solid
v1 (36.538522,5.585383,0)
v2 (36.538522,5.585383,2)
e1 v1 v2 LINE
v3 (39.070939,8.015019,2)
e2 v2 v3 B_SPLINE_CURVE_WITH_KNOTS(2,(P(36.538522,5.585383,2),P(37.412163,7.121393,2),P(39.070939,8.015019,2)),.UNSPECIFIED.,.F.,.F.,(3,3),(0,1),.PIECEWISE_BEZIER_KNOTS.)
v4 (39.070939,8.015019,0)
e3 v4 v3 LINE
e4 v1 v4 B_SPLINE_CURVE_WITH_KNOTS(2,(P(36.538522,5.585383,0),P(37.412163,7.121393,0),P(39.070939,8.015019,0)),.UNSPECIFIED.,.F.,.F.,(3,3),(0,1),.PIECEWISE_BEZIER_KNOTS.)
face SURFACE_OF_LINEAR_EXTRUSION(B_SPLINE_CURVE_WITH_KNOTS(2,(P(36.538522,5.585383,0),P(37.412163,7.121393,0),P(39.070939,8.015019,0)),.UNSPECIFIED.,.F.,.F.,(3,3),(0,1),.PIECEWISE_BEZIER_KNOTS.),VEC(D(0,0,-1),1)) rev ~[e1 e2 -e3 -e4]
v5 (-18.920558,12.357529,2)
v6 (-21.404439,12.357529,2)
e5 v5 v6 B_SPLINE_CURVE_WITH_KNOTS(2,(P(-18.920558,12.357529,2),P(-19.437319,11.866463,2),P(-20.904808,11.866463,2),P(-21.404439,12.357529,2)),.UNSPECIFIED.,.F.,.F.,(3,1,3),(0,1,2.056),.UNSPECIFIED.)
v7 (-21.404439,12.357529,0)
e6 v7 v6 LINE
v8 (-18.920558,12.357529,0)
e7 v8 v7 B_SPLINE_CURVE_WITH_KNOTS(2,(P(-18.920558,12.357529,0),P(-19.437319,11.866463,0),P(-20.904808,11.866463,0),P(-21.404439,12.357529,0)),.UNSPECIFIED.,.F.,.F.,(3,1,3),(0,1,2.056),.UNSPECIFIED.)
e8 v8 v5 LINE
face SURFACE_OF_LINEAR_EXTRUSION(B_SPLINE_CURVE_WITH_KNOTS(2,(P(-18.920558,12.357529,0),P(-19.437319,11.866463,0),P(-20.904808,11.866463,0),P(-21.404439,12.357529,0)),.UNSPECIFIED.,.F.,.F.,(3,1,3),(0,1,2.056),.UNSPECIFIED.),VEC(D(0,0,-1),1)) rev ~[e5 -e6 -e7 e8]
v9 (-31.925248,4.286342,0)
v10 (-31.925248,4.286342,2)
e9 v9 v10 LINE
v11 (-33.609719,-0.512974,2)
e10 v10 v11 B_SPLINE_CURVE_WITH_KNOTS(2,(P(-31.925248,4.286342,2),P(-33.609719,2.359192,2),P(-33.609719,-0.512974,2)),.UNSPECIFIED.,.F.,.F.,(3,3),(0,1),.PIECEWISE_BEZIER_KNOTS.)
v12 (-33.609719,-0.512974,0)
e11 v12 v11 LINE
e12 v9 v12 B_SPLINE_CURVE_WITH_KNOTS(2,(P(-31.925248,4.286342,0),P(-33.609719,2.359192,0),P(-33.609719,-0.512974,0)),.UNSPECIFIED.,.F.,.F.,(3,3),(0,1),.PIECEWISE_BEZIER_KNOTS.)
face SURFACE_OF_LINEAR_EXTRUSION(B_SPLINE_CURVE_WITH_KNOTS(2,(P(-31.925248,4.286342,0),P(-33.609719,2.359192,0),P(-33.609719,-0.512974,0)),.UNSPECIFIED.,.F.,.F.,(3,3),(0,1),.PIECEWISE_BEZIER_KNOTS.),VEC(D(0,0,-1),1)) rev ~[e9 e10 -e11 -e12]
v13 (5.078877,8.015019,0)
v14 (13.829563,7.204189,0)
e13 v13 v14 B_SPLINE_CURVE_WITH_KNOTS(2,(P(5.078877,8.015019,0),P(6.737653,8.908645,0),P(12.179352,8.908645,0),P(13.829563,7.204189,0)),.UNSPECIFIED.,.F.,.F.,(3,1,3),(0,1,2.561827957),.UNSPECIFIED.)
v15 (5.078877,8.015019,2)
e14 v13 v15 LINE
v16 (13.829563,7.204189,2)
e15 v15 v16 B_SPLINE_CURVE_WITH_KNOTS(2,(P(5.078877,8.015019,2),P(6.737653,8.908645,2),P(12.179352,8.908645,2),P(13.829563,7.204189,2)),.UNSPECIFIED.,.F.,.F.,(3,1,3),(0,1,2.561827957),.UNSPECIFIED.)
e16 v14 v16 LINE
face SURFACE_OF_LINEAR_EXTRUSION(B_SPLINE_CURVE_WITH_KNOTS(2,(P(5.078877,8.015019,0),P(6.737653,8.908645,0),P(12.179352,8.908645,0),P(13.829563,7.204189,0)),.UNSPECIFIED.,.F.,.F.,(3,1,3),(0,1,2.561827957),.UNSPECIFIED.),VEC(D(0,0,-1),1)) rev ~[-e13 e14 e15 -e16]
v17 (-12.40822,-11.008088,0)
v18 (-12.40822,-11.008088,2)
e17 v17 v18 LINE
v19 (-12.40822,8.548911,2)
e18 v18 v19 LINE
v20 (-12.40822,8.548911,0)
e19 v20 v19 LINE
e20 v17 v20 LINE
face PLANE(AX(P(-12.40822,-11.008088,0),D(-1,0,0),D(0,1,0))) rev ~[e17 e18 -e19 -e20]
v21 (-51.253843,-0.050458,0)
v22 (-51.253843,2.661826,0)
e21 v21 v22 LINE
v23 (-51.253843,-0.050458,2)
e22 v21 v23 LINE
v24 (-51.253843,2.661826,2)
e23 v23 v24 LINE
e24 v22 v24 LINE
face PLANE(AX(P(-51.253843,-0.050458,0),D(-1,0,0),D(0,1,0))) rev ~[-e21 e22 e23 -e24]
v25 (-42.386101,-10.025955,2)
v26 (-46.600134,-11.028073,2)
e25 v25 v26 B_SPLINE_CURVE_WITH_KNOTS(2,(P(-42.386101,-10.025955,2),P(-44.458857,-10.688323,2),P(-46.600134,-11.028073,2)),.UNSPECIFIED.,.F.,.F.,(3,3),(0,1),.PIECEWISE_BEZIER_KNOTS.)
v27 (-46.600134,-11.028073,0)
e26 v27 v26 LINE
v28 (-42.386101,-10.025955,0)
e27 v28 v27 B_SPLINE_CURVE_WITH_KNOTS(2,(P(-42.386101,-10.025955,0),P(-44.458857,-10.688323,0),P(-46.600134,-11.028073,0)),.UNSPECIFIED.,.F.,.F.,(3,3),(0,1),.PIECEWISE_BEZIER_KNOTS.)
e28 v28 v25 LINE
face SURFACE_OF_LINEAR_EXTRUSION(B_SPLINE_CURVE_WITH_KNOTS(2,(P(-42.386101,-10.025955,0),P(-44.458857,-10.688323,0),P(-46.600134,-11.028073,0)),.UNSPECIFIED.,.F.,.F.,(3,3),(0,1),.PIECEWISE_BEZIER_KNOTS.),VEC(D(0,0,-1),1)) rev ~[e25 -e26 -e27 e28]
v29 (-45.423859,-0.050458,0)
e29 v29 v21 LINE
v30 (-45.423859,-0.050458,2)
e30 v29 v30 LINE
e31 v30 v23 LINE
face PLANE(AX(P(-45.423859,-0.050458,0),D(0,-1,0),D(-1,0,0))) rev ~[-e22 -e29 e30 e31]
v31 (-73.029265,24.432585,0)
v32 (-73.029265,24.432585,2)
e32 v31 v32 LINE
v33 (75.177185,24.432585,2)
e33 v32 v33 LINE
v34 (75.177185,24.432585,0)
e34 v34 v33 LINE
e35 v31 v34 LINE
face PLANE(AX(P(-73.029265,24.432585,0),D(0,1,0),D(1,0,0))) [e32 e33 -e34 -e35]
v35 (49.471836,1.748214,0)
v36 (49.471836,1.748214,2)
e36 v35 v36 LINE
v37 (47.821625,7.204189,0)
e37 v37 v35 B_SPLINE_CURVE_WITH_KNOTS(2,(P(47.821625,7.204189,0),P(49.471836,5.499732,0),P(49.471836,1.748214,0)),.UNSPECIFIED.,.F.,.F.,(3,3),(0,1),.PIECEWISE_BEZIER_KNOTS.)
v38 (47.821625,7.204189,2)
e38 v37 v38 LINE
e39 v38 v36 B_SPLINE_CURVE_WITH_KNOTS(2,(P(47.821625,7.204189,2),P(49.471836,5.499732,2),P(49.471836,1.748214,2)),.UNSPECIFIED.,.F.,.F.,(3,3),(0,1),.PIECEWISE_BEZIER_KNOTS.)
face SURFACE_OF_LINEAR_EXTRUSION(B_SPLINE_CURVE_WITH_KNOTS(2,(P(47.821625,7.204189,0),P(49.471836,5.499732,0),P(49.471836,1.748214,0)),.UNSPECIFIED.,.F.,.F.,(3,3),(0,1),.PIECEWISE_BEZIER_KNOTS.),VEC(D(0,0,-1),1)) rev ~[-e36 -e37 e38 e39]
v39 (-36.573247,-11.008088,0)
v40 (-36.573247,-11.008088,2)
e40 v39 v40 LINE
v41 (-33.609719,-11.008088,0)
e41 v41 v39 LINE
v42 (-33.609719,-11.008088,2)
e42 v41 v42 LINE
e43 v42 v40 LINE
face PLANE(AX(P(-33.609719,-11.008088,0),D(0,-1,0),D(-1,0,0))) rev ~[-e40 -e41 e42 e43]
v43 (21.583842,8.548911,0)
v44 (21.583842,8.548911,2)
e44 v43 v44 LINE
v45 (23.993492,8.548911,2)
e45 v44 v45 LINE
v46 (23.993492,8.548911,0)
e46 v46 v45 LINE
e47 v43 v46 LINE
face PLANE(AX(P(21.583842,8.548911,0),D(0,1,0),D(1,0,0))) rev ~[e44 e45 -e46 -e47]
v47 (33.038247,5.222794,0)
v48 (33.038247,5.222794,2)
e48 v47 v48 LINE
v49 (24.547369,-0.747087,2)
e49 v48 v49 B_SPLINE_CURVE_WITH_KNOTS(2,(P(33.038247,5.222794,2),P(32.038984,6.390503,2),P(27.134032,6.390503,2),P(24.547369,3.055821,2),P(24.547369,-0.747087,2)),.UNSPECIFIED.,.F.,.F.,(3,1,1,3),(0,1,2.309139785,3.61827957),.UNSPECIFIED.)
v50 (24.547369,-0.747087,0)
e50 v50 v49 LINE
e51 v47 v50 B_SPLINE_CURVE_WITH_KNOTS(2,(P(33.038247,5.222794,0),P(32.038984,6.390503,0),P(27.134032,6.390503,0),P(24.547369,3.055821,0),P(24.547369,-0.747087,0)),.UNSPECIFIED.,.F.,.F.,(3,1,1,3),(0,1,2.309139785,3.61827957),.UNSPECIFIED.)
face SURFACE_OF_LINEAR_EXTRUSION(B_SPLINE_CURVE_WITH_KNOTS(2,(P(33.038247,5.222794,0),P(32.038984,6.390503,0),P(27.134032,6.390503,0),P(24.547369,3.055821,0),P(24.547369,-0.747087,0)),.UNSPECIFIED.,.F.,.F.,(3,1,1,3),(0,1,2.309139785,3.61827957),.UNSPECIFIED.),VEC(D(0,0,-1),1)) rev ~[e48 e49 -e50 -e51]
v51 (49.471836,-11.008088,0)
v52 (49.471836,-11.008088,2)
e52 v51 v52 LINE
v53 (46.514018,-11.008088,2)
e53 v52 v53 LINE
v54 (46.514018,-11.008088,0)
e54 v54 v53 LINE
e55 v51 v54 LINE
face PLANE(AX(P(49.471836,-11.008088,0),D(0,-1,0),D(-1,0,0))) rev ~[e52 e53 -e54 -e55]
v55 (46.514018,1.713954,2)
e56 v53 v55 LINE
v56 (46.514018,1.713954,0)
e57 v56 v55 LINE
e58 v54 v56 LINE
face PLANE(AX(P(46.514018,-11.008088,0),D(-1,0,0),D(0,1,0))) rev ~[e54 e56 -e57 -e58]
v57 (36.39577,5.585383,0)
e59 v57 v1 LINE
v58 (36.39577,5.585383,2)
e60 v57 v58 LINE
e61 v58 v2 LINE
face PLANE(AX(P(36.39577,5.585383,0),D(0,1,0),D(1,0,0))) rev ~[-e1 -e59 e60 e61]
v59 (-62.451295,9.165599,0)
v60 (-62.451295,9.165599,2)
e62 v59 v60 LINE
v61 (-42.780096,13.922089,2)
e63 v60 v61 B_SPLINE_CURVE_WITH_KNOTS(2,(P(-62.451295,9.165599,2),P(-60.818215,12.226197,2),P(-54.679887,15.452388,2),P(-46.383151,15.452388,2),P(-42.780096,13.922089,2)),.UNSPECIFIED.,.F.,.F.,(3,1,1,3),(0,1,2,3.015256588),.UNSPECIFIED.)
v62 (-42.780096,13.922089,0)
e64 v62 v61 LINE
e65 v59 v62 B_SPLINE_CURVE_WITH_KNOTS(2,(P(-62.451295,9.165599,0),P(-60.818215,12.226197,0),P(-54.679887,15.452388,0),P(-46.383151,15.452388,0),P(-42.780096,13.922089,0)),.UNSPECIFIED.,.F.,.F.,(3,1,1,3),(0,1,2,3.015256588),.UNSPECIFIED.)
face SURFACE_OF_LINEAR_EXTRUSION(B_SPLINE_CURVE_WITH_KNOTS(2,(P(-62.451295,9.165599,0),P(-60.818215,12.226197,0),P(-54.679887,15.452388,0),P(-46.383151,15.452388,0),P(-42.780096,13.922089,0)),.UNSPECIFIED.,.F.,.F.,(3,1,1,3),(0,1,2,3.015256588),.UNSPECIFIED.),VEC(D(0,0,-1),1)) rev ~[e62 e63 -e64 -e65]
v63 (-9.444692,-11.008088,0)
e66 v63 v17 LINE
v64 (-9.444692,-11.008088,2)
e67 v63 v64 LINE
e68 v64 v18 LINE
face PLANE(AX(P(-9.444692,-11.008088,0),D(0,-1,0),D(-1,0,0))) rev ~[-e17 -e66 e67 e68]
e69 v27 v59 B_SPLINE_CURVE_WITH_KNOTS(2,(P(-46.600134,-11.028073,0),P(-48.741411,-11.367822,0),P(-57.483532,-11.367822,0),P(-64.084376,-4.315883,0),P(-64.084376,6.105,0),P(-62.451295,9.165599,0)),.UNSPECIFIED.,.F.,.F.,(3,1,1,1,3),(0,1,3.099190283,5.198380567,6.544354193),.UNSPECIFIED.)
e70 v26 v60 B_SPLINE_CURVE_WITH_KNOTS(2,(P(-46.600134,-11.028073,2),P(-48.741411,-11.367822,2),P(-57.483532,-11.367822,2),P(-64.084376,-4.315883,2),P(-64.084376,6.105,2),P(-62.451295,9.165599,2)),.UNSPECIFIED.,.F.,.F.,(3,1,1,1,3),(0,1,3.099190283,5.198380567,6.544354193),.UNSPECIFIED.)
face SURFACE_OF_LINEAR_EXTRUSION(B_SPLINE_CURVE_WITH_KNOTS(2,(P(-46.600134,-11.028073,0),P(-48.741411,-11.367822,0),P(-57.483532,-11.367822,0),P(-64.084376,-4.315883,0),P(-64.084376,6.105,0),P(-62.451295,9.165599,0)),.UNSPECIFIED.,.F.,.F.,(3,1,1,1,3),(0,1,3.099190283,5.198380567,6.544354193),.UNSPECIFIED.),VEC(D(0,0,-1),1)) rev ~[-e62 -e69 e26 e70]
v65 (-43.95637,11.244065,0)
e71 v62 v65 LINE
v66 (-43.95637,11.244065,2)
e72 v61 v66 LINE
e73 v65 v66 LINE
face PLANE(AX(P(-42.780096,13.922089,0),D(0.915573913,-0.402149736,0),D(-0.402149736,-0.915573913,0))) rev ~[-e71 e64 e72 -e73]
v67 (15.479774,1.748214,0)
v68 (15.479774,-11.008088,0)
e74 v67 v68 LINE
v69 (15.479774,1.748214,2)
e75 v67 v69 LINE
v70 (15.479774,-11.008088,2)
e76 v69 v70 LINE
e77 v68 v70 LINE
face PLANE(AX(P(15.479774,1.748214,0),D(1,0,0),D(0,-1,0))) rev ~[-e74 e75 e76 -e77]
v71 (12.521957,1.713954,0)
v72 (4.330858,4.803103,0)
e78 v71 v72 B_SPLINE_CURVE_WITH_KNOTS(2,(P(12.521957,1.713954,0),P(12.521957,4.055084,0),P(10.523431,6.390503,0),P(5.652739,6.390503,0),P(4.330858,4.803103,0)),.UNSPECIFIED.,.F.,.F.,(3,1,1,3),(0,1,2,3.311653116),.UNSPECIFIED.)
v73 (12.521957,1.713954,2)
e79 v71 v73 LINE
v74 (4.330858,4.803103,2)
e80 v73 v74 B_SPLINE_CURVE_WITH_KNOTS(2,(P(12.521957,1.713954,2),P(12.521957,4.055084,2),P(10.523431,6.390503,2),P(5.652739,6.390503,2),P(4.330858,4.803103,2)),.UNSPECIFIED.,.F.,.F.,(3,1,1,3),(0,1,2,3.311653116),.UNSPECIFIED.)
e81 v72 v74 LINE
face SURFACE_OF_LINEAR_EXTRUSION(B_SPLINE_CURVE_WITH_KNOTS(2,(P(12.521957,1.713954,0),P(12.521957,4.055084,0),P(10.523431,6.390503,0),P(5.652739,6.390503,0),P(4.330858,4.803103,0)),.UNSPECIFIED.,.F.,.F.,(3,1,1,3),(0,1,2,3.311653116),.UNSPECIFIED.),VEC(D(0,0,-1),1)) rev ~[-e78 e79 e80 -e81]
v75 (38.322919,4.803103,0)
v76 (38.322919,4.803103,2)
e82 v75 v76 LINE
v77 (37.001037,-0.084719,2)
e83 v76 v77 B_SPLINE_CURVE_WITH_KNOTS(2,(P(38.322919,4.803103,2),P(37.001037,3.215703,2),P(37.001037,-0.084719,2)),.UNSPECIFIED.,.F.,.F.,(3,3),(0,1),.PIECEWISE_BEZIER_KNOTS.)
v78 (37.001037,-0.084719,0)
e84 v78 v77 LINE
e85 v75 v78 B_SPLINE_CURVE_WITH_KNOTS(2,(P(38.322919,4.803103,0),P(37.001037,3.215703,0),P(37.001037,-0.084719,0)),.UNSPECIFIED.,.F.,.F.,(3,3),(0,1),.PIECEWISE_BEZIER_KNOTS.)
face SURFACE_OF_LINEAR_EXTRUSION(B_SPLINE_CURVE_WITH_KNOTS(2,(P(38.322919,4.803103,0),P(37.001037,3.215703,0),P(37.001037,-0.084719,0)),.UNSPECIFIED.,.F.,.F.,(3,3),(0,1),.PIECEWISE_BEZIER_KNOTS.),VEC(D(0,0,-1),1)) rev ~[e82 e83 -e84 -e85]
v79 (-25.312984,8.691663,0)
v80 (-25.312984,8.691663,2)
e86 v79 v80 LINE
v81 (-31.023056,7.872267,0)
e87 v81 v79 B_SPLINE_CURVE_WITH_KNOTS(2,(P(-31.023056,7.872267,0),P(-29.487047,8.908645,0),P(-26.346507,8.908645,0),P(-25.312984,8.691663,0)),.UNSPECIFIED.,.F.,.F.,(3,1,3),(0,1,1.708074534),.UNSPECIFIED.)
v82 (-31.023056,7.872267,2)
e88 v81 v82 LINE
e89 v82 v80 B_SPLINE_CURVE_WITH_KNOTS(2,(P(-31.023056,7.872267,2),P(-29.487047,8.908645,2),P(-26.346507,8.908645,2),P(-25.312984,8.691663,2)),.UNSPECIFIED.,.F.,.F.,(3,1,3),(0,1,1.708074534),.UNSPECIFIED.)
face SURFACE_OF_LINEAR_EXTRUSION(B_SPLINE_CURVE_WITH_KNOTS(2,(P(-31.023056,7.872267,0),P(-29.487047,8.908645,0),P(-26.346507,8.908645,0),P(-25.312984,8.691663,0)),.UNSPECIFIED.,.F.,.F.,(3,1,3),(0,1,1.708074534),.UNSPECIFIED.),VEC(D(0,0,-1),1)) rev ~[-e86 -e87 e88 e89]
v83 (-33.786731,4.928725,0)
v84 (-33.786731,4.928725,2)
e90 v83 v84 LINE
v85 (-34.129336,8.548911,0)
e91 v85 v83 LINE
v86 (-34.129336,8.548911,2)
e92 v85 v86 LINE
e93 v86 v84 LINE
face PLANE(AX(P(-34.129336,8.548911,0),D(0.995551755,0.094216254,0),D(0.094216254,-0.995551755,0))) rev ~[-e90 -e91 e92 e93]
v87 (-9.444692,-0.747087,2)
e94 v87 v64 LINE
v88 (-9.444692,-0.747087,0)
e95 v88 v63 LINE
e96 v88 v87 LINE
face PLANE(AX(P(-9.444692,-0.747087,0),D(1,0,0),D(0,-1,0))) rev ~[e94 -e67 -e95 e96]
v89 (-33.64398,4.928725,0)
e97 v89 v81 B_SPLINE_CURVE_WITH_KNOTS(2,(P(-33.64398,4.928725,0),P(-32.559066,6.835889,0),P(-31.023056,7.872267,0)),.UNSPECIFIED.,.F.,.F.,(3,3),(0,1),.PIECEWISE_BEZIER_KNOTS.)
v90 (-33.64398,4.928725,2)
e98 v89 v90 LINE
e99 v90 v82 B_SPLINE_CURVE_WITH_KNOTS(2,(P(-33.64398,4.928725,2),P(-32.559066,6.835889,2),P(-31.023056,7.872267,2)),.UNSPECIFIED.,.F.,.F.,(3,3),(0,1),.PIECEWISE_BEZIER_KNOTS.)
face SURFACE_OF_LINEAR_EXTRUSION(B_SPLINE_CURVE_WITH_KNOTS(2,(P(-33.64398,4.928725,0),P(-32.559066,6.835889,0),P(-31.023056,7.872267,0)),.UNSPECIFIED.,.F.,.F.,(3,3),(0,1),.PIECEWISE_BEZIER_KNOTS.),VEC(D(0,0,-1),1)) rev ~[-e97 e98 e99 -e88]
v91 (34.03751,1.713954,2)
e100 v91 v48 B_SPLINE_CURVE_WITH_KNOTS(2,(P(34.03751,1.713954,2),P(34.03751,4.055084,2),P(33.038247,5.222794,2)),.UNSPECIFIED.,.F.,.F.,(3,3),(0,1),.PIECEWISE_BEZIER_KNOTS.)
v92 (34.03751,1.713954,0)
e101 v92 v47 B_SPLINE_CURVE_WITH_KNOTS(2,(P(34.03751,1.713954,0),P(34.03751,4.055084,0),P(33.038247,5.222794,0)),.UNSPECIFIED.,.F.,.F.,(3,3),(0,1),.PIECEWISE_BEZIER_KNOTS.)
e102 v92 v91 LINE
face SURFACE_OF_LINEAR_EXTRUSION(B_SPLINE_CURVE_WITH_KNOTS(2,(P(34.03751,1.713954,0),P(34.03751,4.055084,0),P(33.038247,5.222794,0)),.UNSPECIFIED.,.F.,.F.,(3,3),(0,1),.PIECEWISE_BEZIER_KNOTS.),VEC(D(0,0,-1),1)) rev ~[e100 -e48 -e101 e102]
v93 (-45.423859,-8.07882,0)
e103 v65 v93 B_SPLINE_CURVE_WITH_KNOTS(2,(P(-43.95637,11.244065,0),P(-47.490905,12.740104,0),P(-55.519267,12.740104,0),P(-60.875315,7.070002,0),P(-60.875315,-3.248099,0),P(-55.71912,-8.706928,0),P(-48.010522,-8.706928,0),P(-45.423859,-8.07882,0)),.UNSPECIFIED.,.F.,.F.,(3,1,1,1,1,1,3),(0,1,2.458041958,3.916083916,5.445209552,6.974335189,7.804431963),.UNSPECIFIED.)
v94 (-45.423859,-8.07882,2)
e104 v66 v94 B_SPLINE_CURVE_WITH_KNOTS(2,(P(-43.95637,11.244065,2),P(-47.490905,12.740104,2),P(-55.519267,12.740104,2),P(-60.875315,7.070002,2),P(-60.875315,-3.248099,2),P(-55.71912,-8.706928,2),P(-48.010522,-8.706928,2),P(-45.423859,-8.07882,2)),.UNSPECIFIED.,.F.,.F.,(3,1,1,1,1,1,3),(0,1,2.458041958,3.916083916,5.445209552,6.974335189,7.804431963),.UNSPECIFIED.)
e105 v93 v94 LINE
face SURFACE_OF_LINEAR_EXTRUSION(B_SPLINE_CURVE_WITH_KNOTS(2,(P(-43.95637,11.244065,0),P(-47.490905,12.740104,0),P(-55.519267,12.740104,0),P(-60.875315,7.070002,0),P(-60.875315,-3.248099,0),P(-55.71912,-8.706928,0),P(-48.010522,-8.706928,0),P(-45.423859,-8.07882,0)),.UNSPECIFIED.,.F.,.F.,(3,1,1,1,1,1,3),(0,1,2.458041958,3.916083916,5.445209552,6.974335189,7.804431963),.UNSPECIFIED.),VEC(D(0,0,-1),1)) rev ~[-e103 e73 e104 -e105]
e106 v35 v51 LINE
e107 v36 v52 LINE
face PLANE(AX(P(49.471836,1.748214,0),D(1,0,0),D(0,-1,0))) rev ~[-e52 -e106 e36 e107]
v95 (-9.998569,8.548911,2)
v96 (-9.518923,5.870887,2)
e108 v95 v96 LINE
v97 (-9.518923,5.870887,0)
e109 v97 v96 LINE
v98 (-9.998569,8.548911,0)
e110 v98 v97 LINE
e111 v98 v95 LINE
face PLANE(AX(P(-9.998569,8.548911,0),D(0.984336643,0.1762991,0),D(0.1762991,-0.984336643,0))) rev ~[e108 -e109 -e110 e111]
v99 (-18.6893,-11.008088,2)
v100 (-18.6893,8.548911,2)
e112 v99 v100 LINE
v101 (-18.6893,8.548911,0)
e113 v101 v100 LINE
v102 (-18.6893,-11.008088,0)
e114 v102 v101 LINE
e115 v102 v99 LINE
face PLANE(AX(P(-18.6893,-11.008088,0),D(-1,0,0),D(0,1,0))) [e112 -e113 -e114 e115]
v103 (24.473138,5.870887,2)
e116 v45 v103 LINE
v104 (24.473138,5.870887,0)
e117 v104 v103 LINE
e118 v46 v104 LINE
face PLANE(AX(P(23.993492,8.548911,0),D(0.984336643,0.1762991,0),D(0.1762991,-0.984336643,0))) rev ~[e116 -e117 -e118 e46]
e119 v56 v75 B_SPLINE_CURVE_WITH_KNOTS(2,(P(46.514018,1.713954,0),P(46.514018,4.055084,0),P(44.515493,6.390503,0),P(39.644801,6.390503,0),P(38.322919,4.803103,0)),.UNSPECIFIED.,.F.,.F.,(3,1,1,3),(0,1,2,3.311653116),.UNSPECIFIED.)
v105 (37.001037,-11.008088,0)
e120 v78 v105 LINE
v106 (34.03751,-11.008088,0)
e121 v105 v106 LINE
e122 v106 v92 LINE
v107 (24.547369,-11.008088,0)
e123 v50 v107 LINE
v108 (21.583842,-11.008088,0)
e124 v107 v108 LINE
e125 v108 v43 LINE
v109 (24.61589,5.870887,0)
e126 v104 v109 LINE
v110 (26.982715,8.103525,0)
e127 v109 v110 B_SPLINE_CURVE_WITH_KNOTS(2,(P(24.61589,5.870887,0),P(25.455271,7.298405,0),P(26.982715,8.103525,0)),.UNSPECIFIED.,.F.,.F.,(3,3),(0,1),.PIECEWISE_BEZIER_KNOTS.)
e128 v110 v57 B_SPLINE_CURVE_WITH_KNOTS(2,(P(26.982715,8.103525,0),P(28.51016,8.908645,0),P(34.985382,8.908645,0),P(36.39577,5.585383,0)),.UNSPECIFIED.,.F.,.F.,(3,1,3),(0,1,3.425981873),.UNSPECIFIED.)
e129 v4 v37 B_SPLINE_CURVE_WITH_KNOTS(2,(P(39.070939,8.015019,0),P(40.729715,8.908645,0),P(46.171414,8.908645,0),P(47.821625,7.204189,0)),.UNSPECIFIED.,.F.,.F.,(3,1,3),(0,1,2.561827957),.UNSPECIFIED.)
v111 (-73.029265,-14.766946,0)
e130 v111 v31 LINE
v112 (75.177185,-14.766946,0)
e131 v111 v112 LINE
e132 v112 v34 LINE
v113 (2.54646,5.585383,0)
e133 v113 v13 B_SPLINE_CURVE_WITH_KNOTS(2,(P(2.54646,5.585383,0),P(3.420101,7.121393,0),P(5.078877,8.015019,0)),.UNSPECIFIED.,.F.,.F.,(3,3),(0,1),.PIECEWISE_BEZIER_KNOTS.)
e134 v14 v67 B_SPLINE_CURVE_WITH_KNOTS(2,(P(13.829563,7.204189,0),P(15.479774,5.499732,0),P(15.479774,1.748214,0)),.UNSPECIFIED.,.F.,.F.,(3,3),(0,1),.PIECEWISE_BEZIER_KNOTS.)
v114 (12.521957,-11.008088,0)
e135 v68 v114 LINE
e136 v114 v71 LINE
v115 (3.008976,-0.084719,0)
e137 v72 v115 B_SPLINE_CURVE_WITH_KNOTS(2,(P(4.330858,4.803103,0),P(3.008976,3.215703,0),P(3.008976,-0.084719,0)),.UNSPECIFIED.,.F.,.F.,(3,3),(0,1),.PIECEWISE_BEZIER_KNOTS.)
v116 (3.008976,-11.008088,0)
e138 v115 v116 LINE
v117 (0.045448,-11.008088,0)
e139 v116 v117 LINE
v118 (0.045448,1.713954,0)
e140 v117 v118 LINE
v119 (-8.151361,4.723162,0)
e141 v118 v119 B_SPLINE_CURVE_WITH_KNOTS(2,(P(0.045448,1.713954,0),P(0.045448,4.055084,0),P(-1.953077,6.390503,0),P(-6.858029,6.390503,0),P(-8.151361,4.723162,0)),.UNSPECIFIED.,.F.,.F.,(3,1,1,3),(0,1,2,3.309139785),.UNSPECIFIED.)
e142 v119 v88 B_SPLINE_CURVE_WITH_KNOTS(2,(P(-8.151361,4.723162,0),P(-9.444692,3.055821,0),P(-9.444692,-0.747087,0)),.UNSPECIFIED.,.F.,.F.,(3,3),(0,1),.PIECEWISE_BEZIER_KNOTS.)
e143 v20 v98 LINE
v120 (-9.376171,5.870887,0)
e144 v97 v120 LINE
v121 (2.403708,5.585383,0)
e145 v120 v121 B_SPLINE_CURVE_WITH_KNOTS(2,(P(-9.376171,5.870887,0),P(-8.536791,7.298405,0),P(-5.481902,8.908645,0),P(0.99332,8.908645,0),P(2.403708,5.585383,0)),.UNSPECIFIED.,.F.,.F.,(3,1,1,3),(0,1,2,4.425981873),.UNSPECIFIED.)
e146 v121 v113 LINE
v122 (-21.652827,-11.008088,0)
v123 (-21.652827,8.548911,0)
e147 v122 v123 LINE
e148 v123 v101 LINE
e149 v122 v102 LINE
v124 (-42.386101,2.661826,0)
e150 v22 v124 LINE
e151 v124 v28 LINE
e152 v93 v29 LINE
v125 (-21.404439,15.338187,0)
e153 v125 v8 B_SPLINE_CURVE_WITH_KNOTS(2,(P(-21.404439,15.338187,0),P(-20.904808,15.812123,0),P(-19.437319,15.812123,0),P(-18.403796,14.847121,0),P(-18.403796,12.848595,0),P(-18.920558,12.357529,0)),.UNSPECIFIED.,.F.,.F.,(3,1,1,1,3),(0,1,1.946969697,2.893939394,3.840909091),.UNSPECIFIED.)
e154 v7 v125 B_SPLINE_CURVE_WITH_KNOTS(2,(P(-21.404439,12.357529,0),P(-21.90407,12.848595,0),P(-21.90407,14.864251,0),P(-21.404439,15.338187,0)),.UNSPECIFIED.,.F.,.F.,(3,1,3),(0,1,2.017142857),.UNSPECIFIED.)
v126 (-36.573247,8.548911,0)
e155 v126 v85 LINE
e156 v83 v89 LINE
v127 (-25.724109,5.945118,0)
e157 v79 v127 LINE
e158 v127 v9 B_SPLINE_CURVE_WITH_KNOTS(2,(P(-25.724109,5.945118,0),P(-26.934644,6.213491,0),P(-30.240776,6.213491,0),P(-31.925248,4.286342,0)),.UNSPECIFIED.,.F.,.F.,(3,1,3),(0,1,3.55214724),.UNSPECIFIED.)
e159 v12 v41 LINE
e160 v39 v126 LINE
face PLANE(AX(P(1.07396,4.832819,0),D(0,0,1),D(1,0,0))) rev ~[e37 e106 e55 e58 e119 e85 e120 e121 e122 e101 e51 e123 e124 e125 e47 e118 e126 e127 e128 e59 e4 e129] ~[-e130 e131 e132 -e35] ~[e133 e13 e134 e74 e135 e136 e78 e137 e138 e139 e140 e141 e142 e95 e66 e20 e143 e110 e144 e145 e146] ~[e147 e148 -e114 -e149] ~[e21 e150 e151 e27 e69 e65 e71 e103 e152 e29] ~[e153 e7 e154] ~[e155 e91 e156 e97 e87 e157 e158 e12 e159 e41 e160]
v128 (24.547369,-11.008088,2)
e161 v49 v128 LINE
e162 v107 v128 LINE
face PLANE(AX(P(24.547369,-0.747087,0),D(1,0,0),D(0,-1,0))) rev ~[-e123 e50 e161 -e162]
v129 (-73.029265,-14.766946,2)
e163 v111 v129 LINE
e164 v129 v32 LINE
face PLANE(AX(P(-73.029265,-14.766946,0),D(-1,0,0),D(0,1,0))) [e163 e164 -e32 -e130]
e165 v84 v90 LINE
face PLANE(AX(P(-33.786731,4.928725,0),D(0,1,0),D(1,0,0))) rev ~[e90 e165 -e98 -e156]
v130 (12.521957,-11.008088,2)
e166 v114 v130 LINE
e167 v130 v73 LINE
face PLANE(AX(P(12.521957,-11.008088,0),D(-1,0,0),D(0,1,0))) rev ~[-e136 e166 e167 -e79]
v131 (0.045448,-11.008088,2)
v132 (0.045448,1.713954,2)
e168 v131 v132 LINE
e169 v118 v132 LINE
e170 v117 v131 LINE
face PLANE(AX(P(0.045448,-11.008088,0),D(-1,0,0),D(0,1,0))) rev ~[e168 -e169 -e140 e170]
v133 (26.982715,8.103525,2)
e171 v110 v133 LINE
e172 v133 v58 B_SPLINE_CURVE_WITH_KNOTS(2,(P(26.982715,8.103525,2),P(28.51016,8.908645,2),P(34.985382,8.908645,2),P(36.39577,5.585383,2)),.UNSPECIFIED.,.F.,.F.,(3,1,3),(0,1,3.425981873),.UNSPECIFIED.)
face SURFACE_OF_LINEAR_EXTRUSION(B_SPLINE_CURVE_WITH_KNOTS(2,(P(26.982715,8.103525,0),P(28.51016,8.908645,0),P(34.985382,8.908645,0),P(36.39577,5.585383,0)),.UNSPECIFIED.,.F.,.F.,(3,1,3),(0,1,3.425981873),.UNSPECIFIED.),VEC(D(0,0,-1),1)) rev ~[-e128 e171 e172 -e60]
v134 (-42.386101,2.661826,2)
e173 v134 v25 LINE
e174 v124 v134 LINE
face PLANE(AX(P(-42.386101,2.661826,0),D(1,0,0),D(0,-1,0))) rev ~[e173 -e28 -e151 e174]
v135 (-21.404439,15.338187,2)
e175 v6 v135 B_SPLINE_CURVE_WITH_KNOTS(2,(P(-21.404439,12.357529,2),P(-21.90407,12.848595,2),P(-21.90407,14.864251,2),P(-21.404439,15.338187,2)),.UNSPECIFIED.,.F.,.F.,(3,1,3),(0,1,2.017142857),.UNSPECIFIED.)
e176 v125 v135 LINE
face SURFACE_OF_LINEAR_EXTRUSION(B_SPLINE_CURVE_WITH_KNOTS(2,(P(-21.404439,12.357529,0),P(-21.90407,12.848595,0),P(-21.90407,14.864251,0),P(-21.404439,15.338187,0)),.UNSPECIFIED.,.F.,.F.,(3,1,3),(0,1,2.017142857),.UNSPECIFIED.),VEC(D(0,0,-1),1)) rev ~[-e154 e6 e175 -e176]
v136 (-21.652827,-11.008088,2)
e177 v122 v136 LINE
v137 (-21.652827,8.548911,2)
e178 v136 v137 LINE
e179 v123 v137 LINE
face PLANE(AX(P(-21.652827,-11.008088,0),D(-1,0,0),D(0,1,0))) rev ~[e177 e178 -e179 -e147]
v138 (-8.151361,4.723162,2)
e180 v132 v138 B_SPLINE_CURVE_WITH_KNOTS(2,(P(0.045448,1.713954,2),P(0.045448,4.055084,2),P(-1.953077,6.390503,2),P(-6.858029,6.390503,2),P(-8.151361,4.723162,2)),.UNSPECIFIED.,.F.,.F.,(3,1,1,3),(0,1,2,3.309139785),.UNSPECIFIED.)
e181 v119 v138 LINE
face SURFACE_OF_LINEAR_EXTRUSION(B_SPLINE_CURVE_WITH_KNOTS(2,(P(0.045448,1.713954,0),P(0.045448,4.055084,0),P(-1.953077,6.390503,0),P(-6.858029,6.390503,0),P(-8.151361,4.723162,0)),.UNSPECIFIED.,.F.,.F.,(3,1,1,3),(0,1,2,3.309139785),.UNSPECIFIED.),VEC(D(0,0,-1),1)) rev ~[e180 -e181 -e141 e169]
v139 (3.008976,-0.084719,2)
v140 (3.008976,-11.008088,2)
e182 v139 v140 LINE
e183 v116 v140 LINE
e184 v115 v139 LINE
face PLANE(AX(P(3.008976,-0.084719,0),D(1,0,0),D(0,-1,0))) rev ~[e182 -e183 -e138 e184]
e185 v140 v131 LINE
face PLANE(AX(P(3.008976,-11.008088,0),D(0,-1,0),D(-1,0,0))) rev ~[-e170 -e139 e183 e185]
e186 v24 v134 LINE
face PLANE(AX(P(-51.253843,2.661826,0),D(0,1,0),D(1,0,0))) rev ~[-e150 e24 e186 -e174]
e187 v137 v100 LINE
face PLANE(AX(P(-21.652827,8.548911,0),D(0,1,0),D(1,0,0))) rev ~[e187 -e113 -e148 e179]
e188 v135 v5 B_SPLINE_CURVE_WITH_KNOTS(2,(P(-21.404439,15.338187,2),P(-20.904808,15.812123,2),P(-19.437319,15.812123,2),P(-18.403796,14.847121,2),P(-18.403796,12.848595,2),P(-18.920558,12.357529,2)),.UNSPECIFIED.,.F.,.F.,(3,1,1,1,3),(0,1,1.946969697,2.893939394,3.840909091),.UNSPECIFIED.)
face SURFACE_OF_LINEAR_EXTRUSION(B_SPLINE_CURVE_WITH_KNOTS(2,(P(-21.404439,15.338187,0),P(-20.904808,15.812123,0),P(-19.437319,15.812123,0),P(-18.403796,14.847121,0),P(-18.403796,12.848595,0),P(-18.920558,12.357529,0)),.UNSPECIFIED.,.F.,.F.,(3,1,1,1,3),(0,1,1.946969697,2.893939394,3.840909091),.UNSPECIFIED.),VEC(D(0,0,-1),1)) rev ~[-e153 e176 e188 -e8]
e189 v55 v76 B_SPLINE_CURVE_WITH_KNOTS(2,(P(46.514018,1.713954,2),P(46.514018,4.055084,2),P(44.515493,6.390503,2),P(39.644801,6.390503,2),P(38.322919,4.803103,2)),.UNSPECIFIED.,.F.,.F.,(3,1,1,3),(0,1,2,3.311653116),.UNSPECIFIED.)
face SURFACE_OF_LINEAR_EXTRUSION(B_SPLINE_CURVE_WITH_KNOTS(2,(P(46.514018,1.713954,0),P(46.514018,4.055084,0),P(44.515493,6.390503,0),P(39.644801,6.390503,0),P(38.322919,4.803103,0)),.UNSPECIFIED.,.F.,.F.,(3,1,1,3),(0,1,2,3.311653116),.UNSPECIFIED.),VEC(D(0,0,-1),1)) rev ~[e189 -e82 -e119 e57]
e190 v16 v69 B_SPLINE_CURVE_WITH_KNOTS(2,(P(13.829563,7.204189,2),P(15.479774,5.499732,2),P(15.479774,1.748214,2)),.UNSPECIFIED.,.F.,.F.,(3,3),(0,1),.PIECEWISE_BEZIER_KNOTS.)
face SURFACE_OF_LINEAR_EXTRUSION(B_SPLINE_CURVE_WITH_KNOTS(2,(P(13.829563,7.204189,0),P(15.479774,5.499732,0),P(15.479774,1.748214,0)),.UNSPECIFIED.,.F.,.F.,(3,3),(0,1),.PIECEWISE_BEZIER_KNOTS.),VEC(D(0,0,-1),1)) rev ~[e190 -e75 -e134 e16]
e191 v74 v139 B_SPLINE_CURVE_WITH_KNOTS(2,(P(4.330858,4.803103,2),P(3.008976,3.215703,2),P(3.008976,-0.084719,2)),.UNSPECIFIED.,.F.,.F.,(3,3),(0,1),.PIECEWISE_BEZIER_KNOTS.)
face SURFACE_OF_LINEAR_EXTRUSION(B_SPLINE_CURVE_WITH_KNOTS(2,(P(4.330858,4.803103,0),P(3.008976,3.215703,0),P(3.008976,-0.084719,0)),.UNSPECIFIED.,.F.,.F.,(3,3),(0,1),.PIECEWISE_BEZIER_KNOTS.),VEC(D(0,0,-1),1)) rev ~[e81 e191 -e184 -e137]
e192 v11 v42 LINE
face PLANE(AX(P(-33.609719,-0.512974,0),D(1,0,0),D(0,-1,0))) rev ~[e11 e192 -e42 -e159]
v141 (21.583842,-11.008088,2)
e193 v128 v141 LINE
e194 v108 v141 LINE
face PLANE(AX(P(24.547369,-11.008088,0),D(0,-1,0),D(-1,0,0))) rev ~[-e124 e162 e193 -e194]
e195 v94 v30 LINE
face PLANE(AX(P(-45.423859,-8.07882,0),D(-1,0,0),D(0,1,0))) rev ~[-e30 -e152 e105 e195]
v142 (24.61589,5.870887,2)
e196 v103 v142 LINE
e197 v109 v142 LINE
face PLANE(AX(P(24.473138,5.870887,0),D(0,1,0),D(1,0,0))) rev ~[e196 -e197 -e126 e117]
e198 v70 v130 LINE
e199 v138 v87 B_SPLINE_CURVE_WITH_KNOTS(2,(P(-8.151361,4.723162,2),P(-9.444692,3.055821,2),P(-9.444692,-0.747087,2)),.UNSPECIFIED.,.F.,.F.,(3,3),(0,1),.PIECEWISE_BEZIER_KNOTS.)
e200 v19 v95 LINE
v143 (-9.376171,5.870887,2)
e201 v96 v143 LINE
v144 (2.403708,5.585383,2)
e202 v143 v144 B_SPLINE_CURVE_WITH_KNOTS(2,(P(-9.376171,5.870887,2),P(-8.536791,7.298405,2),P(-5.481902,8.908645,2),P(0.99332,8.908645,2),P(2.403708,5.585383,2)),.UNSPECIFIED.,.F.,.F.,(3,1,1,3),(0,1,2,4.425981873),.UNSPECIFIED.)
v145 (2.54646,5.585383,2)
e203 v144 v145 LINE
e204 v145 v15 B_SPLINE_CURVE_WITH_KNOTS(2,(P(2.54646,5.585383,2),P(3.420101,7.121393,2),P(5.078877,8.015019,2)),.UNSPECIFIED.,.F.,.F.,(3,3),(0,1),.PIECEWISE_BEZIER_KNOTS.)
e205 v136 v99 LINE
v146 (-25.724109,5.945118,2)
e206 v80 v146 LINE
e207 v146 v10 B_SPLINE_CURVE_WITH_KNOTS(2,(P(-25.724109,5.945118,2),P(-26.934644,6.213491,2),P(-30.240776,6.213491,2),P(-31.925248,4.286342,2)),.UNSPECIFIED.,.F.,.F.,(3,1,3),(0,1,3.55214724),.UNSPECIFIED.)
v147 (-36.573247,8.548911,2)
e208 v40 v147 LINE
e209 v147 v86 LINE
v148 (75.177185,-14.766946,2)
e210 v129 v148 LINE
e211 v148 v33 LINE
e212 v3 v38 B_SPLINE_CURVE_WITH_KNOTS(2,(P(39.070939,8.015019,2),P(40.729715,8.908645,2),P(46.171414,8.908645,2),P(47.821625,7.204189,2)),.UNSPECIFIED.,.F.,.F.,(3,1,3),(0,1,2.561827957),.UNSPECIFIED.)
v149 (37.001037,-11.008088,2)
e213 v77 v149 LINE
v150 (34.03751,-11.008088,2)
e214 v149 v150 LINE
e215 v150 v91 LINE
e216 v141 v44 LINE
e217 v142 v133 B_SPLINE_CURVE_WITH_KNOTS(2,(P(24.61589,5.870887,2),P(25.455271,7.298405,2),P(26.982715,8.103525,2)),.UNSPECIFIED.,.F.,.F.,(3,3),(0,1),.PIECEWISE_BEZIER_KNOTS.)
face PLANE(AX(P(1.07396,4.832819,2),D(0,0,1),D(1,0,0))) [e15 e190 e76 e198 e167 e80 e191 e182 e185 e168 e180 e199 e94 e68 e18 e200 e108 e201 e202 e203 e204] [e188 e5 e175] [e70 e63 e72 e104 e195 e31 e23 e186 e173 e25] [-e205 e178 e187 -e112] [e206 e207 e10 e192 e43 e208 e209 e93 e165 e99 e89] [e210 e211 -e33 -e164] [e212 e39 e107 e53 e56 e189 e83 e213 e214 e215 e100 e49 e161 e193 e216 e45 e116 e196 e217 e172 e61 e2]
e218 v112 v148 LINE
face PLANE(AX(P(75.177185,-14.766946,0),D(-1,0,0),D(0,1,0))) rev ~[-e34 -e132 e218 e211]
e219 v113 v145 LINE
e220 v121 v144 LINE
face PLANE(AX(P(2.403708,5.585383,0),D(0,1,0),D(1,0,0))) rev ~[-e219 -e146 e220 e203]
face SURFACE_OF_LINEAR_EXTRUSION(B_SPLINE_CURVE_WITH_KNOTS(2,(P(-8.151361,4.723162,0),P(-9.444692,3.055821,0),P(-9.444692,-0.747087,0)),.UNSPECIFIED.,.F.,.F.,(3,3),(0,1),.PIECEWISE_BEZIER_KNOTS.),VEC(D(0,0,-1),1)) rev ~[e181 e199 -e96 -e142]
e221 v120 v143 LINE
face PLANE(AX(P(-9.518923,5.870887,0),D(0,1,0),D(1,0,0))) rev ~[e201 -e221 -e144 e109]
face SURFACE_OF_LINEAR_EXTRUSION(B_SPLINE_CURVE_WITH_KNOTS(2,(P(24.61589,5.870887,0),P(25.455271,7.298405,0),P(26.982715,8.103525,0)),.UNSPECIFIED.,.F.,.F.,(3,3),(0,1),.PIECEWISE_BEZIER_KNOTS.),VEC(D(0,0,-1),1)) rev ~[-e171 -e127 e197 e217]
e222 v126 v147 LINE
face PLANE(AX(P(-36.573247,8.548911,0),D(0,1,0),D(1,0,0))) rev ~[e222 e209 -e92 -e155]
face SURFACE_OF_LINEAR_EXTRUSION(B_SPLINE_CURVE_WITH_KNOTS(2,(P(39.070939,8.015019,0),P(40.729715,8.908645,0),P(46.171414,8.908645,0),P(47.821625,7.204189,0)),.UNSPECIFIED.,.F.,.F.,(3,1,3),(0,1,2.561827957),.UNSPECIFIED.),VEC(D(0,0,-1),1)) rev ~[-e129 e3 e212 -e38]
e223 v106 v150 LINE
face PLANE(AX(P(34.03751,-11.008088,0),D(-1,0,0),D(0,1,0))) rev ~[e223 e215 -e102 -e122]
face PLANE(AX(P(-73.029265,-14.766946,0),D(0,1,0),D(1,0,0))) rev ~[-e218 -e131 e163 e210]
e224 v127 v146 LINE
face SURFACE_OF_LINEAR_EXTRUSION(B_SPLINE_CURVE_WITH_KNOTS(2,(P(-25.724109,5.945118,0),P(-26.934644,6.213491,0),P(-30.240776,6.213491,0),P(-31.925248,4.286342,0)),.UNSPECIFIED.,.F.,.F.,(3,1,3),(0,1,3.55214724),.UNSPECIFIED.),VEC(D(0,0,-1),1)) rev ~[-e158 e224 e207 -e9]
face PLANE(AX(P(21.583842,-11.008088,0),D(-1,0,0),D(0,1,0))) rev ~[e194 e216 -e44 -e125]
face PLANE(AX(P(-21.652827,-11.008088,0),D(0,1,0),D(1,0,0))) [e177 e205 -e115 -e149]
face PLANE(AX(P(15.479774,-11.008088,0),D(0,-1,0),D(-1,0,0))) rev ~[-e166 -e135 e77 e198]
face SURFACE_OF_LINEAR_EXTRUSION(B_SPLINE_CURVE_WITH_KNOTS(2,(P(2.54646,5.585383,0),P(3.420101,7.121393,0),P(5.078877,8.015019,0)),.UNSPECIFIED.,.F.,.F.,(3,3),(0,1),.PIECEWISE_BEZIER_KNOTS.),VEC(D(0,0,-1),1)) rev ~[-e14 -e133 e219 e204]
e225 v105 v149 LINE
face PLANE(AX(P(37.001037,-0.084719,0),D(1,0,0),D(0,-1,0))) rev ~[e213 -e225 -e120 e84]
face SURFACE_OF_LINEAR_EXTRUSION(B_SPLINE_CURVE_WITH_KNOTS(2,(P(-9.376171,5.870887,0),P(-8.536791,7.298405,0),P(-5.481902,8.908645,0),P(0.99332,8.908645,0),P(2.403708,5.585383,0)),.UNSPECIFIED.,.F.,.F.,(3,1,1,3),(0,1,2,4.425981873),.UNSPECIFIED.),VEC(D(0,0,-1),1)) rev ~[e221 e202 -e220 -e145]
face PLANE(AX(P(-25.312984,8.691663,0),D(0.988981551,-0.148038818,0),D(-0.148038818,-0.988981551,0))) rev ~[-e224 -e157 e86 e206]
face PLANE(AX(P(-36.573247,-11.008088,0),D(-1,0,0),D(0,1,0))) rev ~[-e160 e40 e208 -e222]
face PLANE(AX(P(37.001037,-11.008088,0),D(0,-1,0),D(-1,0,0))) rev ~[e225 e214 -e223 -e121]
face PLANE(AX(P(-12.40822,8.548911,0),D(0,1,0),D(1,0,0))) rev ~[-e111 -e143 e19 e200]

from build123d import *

# Parameters (mm, degrees)
F0_W     = 148.2064500451
F0_H     = 39.1995310783
F0_W_2   = 2.9635276284
F0_H_2   = 19.5569983185
F1_DEPTH = 2


with BuildPart() as f1:
    # F0 (on Top) → F1 (new body)
    with BuildSketch(Plane.XY):
        with Locations((1.0739602149, 4.8328191042)):
            Rectangle(F0_W, F0_H)
        with BuildLine():
            Line((-51.2538431366, -0.0504584148), (-51.2538431366, 2.6618260235))
            Line((-51.2538431366, 2.6618260235), (-42.3861005414, 2.6618260235))
            Line((-42.3861005414, 2.6618260235), (-42.3861005414, -10.0259550753))
            add(Edge.make_bspline(
                [(-42.3861005414, -10.0259550753), (-44.4588568595, -10.6883234855), (-46.6001340477, -11.0280727994)],
                knots=[0, 0, 0, 1, 1, 1], degree=2))
            add(Edge.make_bspline(
                [(-46.6001340477, -11.0280727994), (-48.7414112358, -11.3678221132), (-51.5621870517, -11.3678221132)],
                knots=[0, 0, 0, 1, 1, 1], degree=2))
            add(Edge.make_bspline(
                [(-51.5621870517, -11.3678221132), (-57.483532236, -11.3678221132), (-60.783954142, -7.8418523434)],
                knots=[0, 0, 0, 1, 1, 1], degree=2))
            add(Edge.make_bspline(
                [(-60.783954142, -7.8418523434), (-64.084376048, -4.3158825736), (-64.084376048, 2.0337180483)],
                knots=[0, 0, 0, 1, 1, 1], degree=2))
            add(Edge.make_bspline(
                [(-64.084376048, 2.0337180483), (-64.084376048, 6.1049997421), (-62.4512953125, 9.165598603)],
                knots=[0, 0, 0, 1, 1, 1], degree=2))
            add(Edge.make_bspline(
                [(-62.4512953125, 9.165598603), (-60.818214577, 12.226197464), (-57.7490506073, 13.8392929457)],
                knots=[0, 0, 0, 1, 1, 1], degree=2))
            add(Edge.make_bspline(
                [(-57.7490506073, 13.8392929457), (-54.6798866376, 15.4523884274), (-50.5629243639, 15.4523884274)],
                knots=[0, 0, 0, 1, 1, 1], degree=2))
            add(Edge.make_bspline(
                [(-50.5629243639, 15.4523884274), (-46.3831512926, 15.4523884274), (-42.780095544, 13.922088997)],
                knots=[0, 0, 0, 1, 1, 1], degree=2))
            Line((-42.780095544, 13.922088997), (-43.9563704794, 11.2440649937))
            add(Edge.make_bspline(
                [(-43.9563704794, 11.2440649937), (-47.4909053579, 12.7401039891), (-50.7570668289, 12.7401039891)],
                knots=[0, 0, 0, 1, 1, 1], degree=2))
            add(Edge.make_bspline(
                [(-50.7570668289, 12.7401039891), (-55.5192672954, 12.7401039891), (-58.1972912987, 9.905052992)],
                knots=[0, 0, 0, 1, 1, 1], degree=2))
            add(Edge.make_bspline(
                [(-58.1972912987, 9.905052992), (-60.875315302, 7.0700019949), (-60.875315302, 2.0337180483)],
                knots=[0, 0, 0, 1, 1, 1], degree=2))
            add(Edge.make_bspline(
                [(-60.875315302, 2.0337180483), (-60.875315302, -3.2480990158), (-58.2972175675, -5.9775136716)],
                knots=[0, 0, 0, 1, 1, 1], degree=2))
            add(Edge.make_bspline(
                [(-58.2972175675, -5.9775136716), (-55.719119833, -8.7069283274), (-50.7228063939, -8.7069283274)],
                knots=[0, 0, 0, 1, 1, 1], degree=2))
            add(Edge.make_bspline(
                [(-50.7228063939, -8.7069283274), (-48.0105219556, -8.7069283274), (-45.4238591123, -8.0788203522)],
                knots=[0, 0, 0, 1, 1, 1], degree=2))
            Line((-45.4238591123, -8.0788203522), (-45.4238591123, -0.0504584148))
            Line((-45.4238591123, -0.0504584148), (-51.2538431366, -0.0504584148))
        make_face(mode=Mode.SUBTRACT)
        with BuildLine():
            add(Edge.make_bspline(
                [(-31.0230562629, 7.8722671814), (-29.4870467599, 8.9086453404), (-27.6484034144, 8.9086453404)],
                knots=[0, 0, 0, 1, 1, 1], degree=2))
            add(Edge.make_bspline(
                [(-27.6484034144, 8.9086453404), (-26.346506884, 8.9086453404), (-25.3129837612, 8.6916625854)],
                knots=[0, 0, 0, 1, 1, 1], degree=2))
            Line((-25.3129837612, 8.6916625854), (-25.7241089813, 5.945117712))
            add(Edge.make_bspline(
                [(-25.7241089813, 5.945117712), (-26.9346443517, 6.2134911196), (-27.8653861694, 6.2134911196)],
                knots=[0, 0, 0, 1, 1, 1], degree=2))
            add(Edge.make_bspline(
                [(-27.8653861694, 6.2134911196), (-30.2407763302, 6.2134911196), (-31.9252477182, 4.2863416503)],
                knots=[0, 0, 0, 1, 1, 1], degree=2))
            add(Edge.make_bspline(
                [(-31.9252477182, 4.2863416503), (-33.6097191062, 2.3591921809), (-33.6097191062, -0.5129742874)],
                knots=[0, 0, 0, 1, 1, 1], degree=2))
            Line((-33.6097191062, -0.5129742874), (-33.6097191062, -11.0080875456))
            Line((-33.6097191062, -11.0080875456), (-36.5732467346, -11.0080875456))
            Line((-36.5732467346, -11.0080875456), (-36.5732467346, 8.5489107728))
            Line((-36.5732467346, 8.5489107728), (-34.1293357039, 8.5489107728))
            Line((-34.1293357039, 8.5489107728), (-33.7867313538, 4.9287248067))
            Line((-33.7867313538, 4.9287248067), (-33.6439795412, 4.9287248067))
            add(Edge.make_bspline(
                [(-33.6439795412, 4.9287248067), (-32.5590657659, 6.8358890223), (-31.0230562629, 7.8722671814)],
                knots=[0, 0, 0, 1, 1, 1], degree=2))
        make_face(mode=Mode.SUBTRACT)
        with Locations((-20.1710634733, -1.2295883864)):
            Rectangle(F0_W_2, F0_H_2, mode=Mode.SUBTRACT)
        with BuildLine():
            Line((15.4797741913, -11.0080875456), (12.5219566354, -11.0080875456))
            Line((12.5219566354, -11.0080875456), (12.5219566354, 1.7139539883))
            add(Edge.make_bspline(
                [(12.5219566354, 1.7139539883), (12.5219566354, 4.055083714), (11.5226939476, 5.2227935406)],
                knots=[0, 0, 0, 1, 1, 1], degree=2))
            add(Edge.make_bspline(
                [(11.5226939476, 5.2227935406), (10.5234312598, 6.3905033672), (8.4164145066, 6.3905033672)],
                knots=[0, 0, 0, 1, 1, 1], degree=2))
            add(Edge.make_bspline(
                [(8.4164145066, 6.3905033672), (5.6527394158, 6.3905033672), (4.3308576316, 4.8031032117)],
                knots=[0, 0, 0, 1, 1, 1], degree=2))
            add(Edge.make_bspline(
                [(4.3308576316, 4.8031032117), (3.0089758475, 3.2157030562), (3.0089758475, -0.0847188498)],
                knots=[0, 0, 0, 1, 1, 1], degree=2))
            Line((3.0089758475, -0.0847188498), (3.0089758475, -11.0080875456))
            Line((3.0089758475, -11.0080875456), (0.0454482191, -11.0080875456))
            Line((0.0454482191, -11.0080875456), (0.0454482191, 1.7139539883))
            add(Edge.make_bspline(
                [(0.0454482191, 1.7139539883), (0.0454482191, 4.055083714), (-0.9538144687, 5.2227935406)],
                knots=[0, 0, 0, 1, 1, 1], degree=2))
            add(Edge.make_bspline(
                [(-0.9538144687, 5.2227935406), (-1.9530771565, 6.3905033672), (-4.0772241272, 6.3905033672)],
                knots=[0, 0, 0, 1, 1, 1], degree=2))
            add(Edge.make_bspline(
                [(-4.0772241272, 6.3905033672), (-6.8580294355, 6.3905033672), (-8.1513608572, 4.7231621967)],
                knots=[0, 0, 0, 1, 1, 1], degree=2))
            add(Edge.make_bspline(
                [(-8.1513608572, 4.7231621967), (-9.4446922788, 3.0558210262), (-9.4446922788, -0.74708726)],
                knots=[0, 0, 0, 1, 1, 1], degree=2))
            Line((-9.4446922788, -0.74708726), (-9.4446922788, -11.0080875456))
            Line((-9.4446922788, -11.0080875456), (-12.4082199072, -11.0080875456))
            Line((-12.4082199072, -11.0080875456), (-12.4082199072, 8.5489107728))
            Line((-12.4082199072, 8.5489107728), (-9.9985693115, 8.5489107728))
            Line((-9.9985693115, 8.5489107728), (-9.5189232213, 5.8708867695))
            Line((-9.5189232213, 5.8708867695), (-9.3761714088, 5.8708867695))
            add(Edge.make_bspline(
                [(-9.3761714088, 5.8708867695), (-8.536790751, 7.298404895), (-7.0093463568, 8.1035251177)],
                knots=[0, 0, 0, 1, 1, 1], degree=2))
            add(Edge.make_bspline(
                [(-7.0093463568, 8.1035251177), (-5.4819019626, 8.9086453404), (-3.5918679645, 8.9086453404)],
                knots=[0, 0, 0, 1, 1, 1], degree=2))
            add(Edge.make_bspline(
                [(-3.5918679645, 8.9086453404), (0.9933202544, 8.9086453404), (2.4037081623, 5.5853831444)],
                knots=[0, 0, 0, 1, 1, 1], degree=2))
            Line((2.4037081623, 5.5853831444), (2.5464599748, 5.5853831444))
            add(Edge.make_bspline(
                [(2.5464599748, 5.5853831444), (3.4201010676, 7.1213926474), (5.0788771294, 8.0150189939)],
                knots=[0, 0, 0, 1, 1, 1], degree=2))
            add(Edge.make_bspline(
                [(5.0788771294, 8.0150189939), (6.7376531911, 8.9086453404), (8.8618001618, 8.9086453404)],
                knots=[0, 0, 0, 1, 1, 1], degree=2))
            add(Edge.make_bspline(
                [(8.8618001618, 8.9086453404), (12.1793522853, 8.9086453404), (13.8295632383, 7.2041886987)],
                knots=[0, 0, 0, 1, 1, 1], degree=2))
            add(Edge.make_bspline(
                [(13.8295632383, 7.2041886987), (15.4797741913, 5.4997320569), (15.4797741913, 1.7482144233)],
                knots=[0, 0, 0, 1, 1, 1], degree=2))
            Line((15.4797741913, 1.7482144233), (15.4797741913, -11.0080875456))
        make_face(mode=Mode.SUBTRACT)
        with BuildLine():
            Line((49.4718357942, -11.0080875456), (46.5140182383, -11.0080875456))
            Line((46.5140182383, -11.0080875456), (46.5140182383, 1.7139539883))
            add(Edge.make_bspline(
                [(46.5140182383, 1.7139539883), (46.5140182383, 4.055083714), (45.5147555505, 5.2227935406)],
                knots=[0, 0, 0, 1, 1, 1], degree=2))
            add(Edge.make_bspline(
                [(45.5147555505, 5.2227935406), (44.5154928627, 6.3905033672), (42.4084761095, 6.3905033672)],
                knots=[0, 0, 0, 1, 1, 1], degree=2))
            add(Edge.make_bspline(
                [(42.4084761095, 6.3905033672), (39.6448010187, 6.3905033672), (38.3229192345, 4.8031032117)],
                knots=[0, 0, 0, 1, 1, 1], degree=2))
            add(Edge.make_bspline(
                [(38.3229192345, 4.8031032117), (37.0010374504, 3.2157030562), (37.0010374504, -0.0847188498)],
                knots=[0, 0, 0, 1, 1, 1], degree=2))
            Line((37.0010374504, -0.0847188498), (37.0010374504, -11.0080875456))
            Line((37.0010374504, -11.0080875456), (34.037509822, -11.0080875456))
            Line((34.037509822, -11.0080875456), (34.037509822, 1.7139539883))
            add(Edge.make_bspline(
                [(34.037509822, 1.7139539883), (34.037509822, 4.055083714), (33.0382471341, 5.2227935406)],
                knots=[0, 0, 0, 1, 1, 1], degree=2))
            add(Edge.make_bspline(
                [(33.0382471341, 5.2227935406), (32.0389844463, 6.3905033672), (29.9148374757, 6.3905033672)],
                knots=[0, 0, 0, 1, 1, 1], degree=2))
            add(Edge.make_bspline(
                [(29.9148374757, 6.3905033672), (27.1340321673, 6.3905033672), (25.8407007457, 4.7231621967)],
                knots=[0, 0, 0, 1, 1, 1], degree=2))
            add(Edge.make_bspline(
                [(25.8407007457, 4.7231621967), (24.5473693241, 3.0558210262), (24.5473693241, -0.74708726)],
                knots=[0, 0, 0, 1, 1, 1], degree=2))
            Line((24.5473693241, -0.74708726), (24.5473693241, -11.0080875456))
            Line((24.5473693241, -11.0080875456), (21.5838416957, -11.0080875456))
            Line((21.5838416957, -11.0080875456), (21.5838416957, 8.5489107728))
            Line((21.5838416957, 8.5489107728), (23.9934922914, 8.5489107728))
            Line((23.9934922914, 8.5489107728), (24.4731383815, 5.8708867695))
            Line((24.4731383815, 5.8708867695), (24.6158901941, 5.8708867695))
            add(Edge.make_bspline(
                [(24.6158901941, 5.8708867695), (25.4552708518, 7.298404895), (26.982715246, 8.1035251177)],
                knots=[0, 0, 0, 1, 1, 1], degree=2))
            add(Edge.make_bspline(
                [(26.982715246, 8.1035251177), (28.5101596403, 8.9086453404), (30.4001936383, 8.9086453404)],
                knots=[0, 0, 0, 1, 1, 1], degree=2))
            add(Edge.make_bspline(
                [(30.4001936383, 8.9086453404), (34.9853818572, 8.9086453404), (36.3957697652, 5.5853831444)],
                knots=[0, 0, 0, 1, 1, 1], degree=2))
            Line((36.3957697652, 5.5853831444), (36.5385215777, 5.5853831444))
            add(Edge.make_bspline(
                [(36.5385215777, 5.5853831444), (37.4121626705, 7.1213926474), (39.0709387322, 8.0150189939)],
                knots=[0, 0, 0, 1, 1, 1], degree=2))
            add(Edge.make_bspline(
                [(39.0709387322, 8.0150189939), (40.729714794, 8.9086453404), (42.8538617646, 8.9086453404)],
                knots=[0, 0, 0, 1, 1, 1], degree=2))
            add(Edge.make_bspline(
                [(42.8538617646, 8.9086453404), (46.1714138882, 8.9086453404), (47.8216248412, 7.2041886987)],
                knots=[0, 0, 0, 1, 1, 1], degree=2))
            add(Edge.make_bspline(
                [(47.8216248412, 7.2041886987), (49.4718357942, 5.4997320569), (49.4718357942, 1.7482144233)],
                knots=[0, 0, 0, 1, 1, 1], degree=2))
            Line((49.4718357942, 1.7482144233), (49.4718357942, -11.0080875456))
        make_face(mode=Mode.SUBTRACT)
        with BuildLine():
            add(Edge.make_bspline(
                [(-21.4044391337, 12.3575291315), (-21.9040704776, 12.8485953667), (-21.9040704776, 13.8478580545)],
                knots=[0, 0, 0, 1, 1, 1], degree=2))
            add(Edge.make_bspline(
                [(-21.9040704776, 13.8478580545), (-21.9040704776, 14.8642509598), (-21.4044391337, 15.3381869774)],
                knots=[0, 0, 0, 1, 1, 1], degree=2))
            add(Edge.make_bspline(
                [(-21.4044391337, 15.3381869774), (-20.9048077898, 15.8121229951), (-20.1510782196, 15.8121229951)],
                knots=[0, 0, 0, 1, 1, 1], degree=2))
            add(Edge.make_bspline(
                [(-20.1510782196, 15.8121229951), (-19.4373191569, 15.8121229951), (-18.9205575955, 15.3296218687)],
                knots=[0, 0, 0, 1, 1, 1], degree=2))
            add(Edge.make_bspline(
                [(-18.9205575955, 15.3296218687), (-18.4037960341, 14.8471207423), (-18.4037960341, 13.8478580545)],
                knots=[0, 0, 0, 1, 1, 1], degree=2))
            add(Edge.make_bspline(
                [(-18.4037960341, 13.8478580545), (-18.4037960341, 12.8485953667), (-18.9205575955, 12.3575291315)],
                knots=[0, 0, 0, 1, 1, 1], degree=2))
            add(Edge.make_bspline(
                [(-18.9205575955, 12.3575291315), (-19.4373191569, 11.8664628964), (-20.1510782196, 11.8664628964)],
                knots=[0, 0, 0, 1, 1, 1], degree=2))
            add(Edge.make_bspline(
                [(-20.1510782196, 11.8664628964), (-20.9048077898, 11.8664628964), (-21.4044391337, 12.3575291315)],
                knots=[0, 0, 0, 1, 1, 1], degree=2))
        make_face(mode=Mode.SUBTRACT)
    extrude(amount=F1_DEPTH)


solid = f1.part
